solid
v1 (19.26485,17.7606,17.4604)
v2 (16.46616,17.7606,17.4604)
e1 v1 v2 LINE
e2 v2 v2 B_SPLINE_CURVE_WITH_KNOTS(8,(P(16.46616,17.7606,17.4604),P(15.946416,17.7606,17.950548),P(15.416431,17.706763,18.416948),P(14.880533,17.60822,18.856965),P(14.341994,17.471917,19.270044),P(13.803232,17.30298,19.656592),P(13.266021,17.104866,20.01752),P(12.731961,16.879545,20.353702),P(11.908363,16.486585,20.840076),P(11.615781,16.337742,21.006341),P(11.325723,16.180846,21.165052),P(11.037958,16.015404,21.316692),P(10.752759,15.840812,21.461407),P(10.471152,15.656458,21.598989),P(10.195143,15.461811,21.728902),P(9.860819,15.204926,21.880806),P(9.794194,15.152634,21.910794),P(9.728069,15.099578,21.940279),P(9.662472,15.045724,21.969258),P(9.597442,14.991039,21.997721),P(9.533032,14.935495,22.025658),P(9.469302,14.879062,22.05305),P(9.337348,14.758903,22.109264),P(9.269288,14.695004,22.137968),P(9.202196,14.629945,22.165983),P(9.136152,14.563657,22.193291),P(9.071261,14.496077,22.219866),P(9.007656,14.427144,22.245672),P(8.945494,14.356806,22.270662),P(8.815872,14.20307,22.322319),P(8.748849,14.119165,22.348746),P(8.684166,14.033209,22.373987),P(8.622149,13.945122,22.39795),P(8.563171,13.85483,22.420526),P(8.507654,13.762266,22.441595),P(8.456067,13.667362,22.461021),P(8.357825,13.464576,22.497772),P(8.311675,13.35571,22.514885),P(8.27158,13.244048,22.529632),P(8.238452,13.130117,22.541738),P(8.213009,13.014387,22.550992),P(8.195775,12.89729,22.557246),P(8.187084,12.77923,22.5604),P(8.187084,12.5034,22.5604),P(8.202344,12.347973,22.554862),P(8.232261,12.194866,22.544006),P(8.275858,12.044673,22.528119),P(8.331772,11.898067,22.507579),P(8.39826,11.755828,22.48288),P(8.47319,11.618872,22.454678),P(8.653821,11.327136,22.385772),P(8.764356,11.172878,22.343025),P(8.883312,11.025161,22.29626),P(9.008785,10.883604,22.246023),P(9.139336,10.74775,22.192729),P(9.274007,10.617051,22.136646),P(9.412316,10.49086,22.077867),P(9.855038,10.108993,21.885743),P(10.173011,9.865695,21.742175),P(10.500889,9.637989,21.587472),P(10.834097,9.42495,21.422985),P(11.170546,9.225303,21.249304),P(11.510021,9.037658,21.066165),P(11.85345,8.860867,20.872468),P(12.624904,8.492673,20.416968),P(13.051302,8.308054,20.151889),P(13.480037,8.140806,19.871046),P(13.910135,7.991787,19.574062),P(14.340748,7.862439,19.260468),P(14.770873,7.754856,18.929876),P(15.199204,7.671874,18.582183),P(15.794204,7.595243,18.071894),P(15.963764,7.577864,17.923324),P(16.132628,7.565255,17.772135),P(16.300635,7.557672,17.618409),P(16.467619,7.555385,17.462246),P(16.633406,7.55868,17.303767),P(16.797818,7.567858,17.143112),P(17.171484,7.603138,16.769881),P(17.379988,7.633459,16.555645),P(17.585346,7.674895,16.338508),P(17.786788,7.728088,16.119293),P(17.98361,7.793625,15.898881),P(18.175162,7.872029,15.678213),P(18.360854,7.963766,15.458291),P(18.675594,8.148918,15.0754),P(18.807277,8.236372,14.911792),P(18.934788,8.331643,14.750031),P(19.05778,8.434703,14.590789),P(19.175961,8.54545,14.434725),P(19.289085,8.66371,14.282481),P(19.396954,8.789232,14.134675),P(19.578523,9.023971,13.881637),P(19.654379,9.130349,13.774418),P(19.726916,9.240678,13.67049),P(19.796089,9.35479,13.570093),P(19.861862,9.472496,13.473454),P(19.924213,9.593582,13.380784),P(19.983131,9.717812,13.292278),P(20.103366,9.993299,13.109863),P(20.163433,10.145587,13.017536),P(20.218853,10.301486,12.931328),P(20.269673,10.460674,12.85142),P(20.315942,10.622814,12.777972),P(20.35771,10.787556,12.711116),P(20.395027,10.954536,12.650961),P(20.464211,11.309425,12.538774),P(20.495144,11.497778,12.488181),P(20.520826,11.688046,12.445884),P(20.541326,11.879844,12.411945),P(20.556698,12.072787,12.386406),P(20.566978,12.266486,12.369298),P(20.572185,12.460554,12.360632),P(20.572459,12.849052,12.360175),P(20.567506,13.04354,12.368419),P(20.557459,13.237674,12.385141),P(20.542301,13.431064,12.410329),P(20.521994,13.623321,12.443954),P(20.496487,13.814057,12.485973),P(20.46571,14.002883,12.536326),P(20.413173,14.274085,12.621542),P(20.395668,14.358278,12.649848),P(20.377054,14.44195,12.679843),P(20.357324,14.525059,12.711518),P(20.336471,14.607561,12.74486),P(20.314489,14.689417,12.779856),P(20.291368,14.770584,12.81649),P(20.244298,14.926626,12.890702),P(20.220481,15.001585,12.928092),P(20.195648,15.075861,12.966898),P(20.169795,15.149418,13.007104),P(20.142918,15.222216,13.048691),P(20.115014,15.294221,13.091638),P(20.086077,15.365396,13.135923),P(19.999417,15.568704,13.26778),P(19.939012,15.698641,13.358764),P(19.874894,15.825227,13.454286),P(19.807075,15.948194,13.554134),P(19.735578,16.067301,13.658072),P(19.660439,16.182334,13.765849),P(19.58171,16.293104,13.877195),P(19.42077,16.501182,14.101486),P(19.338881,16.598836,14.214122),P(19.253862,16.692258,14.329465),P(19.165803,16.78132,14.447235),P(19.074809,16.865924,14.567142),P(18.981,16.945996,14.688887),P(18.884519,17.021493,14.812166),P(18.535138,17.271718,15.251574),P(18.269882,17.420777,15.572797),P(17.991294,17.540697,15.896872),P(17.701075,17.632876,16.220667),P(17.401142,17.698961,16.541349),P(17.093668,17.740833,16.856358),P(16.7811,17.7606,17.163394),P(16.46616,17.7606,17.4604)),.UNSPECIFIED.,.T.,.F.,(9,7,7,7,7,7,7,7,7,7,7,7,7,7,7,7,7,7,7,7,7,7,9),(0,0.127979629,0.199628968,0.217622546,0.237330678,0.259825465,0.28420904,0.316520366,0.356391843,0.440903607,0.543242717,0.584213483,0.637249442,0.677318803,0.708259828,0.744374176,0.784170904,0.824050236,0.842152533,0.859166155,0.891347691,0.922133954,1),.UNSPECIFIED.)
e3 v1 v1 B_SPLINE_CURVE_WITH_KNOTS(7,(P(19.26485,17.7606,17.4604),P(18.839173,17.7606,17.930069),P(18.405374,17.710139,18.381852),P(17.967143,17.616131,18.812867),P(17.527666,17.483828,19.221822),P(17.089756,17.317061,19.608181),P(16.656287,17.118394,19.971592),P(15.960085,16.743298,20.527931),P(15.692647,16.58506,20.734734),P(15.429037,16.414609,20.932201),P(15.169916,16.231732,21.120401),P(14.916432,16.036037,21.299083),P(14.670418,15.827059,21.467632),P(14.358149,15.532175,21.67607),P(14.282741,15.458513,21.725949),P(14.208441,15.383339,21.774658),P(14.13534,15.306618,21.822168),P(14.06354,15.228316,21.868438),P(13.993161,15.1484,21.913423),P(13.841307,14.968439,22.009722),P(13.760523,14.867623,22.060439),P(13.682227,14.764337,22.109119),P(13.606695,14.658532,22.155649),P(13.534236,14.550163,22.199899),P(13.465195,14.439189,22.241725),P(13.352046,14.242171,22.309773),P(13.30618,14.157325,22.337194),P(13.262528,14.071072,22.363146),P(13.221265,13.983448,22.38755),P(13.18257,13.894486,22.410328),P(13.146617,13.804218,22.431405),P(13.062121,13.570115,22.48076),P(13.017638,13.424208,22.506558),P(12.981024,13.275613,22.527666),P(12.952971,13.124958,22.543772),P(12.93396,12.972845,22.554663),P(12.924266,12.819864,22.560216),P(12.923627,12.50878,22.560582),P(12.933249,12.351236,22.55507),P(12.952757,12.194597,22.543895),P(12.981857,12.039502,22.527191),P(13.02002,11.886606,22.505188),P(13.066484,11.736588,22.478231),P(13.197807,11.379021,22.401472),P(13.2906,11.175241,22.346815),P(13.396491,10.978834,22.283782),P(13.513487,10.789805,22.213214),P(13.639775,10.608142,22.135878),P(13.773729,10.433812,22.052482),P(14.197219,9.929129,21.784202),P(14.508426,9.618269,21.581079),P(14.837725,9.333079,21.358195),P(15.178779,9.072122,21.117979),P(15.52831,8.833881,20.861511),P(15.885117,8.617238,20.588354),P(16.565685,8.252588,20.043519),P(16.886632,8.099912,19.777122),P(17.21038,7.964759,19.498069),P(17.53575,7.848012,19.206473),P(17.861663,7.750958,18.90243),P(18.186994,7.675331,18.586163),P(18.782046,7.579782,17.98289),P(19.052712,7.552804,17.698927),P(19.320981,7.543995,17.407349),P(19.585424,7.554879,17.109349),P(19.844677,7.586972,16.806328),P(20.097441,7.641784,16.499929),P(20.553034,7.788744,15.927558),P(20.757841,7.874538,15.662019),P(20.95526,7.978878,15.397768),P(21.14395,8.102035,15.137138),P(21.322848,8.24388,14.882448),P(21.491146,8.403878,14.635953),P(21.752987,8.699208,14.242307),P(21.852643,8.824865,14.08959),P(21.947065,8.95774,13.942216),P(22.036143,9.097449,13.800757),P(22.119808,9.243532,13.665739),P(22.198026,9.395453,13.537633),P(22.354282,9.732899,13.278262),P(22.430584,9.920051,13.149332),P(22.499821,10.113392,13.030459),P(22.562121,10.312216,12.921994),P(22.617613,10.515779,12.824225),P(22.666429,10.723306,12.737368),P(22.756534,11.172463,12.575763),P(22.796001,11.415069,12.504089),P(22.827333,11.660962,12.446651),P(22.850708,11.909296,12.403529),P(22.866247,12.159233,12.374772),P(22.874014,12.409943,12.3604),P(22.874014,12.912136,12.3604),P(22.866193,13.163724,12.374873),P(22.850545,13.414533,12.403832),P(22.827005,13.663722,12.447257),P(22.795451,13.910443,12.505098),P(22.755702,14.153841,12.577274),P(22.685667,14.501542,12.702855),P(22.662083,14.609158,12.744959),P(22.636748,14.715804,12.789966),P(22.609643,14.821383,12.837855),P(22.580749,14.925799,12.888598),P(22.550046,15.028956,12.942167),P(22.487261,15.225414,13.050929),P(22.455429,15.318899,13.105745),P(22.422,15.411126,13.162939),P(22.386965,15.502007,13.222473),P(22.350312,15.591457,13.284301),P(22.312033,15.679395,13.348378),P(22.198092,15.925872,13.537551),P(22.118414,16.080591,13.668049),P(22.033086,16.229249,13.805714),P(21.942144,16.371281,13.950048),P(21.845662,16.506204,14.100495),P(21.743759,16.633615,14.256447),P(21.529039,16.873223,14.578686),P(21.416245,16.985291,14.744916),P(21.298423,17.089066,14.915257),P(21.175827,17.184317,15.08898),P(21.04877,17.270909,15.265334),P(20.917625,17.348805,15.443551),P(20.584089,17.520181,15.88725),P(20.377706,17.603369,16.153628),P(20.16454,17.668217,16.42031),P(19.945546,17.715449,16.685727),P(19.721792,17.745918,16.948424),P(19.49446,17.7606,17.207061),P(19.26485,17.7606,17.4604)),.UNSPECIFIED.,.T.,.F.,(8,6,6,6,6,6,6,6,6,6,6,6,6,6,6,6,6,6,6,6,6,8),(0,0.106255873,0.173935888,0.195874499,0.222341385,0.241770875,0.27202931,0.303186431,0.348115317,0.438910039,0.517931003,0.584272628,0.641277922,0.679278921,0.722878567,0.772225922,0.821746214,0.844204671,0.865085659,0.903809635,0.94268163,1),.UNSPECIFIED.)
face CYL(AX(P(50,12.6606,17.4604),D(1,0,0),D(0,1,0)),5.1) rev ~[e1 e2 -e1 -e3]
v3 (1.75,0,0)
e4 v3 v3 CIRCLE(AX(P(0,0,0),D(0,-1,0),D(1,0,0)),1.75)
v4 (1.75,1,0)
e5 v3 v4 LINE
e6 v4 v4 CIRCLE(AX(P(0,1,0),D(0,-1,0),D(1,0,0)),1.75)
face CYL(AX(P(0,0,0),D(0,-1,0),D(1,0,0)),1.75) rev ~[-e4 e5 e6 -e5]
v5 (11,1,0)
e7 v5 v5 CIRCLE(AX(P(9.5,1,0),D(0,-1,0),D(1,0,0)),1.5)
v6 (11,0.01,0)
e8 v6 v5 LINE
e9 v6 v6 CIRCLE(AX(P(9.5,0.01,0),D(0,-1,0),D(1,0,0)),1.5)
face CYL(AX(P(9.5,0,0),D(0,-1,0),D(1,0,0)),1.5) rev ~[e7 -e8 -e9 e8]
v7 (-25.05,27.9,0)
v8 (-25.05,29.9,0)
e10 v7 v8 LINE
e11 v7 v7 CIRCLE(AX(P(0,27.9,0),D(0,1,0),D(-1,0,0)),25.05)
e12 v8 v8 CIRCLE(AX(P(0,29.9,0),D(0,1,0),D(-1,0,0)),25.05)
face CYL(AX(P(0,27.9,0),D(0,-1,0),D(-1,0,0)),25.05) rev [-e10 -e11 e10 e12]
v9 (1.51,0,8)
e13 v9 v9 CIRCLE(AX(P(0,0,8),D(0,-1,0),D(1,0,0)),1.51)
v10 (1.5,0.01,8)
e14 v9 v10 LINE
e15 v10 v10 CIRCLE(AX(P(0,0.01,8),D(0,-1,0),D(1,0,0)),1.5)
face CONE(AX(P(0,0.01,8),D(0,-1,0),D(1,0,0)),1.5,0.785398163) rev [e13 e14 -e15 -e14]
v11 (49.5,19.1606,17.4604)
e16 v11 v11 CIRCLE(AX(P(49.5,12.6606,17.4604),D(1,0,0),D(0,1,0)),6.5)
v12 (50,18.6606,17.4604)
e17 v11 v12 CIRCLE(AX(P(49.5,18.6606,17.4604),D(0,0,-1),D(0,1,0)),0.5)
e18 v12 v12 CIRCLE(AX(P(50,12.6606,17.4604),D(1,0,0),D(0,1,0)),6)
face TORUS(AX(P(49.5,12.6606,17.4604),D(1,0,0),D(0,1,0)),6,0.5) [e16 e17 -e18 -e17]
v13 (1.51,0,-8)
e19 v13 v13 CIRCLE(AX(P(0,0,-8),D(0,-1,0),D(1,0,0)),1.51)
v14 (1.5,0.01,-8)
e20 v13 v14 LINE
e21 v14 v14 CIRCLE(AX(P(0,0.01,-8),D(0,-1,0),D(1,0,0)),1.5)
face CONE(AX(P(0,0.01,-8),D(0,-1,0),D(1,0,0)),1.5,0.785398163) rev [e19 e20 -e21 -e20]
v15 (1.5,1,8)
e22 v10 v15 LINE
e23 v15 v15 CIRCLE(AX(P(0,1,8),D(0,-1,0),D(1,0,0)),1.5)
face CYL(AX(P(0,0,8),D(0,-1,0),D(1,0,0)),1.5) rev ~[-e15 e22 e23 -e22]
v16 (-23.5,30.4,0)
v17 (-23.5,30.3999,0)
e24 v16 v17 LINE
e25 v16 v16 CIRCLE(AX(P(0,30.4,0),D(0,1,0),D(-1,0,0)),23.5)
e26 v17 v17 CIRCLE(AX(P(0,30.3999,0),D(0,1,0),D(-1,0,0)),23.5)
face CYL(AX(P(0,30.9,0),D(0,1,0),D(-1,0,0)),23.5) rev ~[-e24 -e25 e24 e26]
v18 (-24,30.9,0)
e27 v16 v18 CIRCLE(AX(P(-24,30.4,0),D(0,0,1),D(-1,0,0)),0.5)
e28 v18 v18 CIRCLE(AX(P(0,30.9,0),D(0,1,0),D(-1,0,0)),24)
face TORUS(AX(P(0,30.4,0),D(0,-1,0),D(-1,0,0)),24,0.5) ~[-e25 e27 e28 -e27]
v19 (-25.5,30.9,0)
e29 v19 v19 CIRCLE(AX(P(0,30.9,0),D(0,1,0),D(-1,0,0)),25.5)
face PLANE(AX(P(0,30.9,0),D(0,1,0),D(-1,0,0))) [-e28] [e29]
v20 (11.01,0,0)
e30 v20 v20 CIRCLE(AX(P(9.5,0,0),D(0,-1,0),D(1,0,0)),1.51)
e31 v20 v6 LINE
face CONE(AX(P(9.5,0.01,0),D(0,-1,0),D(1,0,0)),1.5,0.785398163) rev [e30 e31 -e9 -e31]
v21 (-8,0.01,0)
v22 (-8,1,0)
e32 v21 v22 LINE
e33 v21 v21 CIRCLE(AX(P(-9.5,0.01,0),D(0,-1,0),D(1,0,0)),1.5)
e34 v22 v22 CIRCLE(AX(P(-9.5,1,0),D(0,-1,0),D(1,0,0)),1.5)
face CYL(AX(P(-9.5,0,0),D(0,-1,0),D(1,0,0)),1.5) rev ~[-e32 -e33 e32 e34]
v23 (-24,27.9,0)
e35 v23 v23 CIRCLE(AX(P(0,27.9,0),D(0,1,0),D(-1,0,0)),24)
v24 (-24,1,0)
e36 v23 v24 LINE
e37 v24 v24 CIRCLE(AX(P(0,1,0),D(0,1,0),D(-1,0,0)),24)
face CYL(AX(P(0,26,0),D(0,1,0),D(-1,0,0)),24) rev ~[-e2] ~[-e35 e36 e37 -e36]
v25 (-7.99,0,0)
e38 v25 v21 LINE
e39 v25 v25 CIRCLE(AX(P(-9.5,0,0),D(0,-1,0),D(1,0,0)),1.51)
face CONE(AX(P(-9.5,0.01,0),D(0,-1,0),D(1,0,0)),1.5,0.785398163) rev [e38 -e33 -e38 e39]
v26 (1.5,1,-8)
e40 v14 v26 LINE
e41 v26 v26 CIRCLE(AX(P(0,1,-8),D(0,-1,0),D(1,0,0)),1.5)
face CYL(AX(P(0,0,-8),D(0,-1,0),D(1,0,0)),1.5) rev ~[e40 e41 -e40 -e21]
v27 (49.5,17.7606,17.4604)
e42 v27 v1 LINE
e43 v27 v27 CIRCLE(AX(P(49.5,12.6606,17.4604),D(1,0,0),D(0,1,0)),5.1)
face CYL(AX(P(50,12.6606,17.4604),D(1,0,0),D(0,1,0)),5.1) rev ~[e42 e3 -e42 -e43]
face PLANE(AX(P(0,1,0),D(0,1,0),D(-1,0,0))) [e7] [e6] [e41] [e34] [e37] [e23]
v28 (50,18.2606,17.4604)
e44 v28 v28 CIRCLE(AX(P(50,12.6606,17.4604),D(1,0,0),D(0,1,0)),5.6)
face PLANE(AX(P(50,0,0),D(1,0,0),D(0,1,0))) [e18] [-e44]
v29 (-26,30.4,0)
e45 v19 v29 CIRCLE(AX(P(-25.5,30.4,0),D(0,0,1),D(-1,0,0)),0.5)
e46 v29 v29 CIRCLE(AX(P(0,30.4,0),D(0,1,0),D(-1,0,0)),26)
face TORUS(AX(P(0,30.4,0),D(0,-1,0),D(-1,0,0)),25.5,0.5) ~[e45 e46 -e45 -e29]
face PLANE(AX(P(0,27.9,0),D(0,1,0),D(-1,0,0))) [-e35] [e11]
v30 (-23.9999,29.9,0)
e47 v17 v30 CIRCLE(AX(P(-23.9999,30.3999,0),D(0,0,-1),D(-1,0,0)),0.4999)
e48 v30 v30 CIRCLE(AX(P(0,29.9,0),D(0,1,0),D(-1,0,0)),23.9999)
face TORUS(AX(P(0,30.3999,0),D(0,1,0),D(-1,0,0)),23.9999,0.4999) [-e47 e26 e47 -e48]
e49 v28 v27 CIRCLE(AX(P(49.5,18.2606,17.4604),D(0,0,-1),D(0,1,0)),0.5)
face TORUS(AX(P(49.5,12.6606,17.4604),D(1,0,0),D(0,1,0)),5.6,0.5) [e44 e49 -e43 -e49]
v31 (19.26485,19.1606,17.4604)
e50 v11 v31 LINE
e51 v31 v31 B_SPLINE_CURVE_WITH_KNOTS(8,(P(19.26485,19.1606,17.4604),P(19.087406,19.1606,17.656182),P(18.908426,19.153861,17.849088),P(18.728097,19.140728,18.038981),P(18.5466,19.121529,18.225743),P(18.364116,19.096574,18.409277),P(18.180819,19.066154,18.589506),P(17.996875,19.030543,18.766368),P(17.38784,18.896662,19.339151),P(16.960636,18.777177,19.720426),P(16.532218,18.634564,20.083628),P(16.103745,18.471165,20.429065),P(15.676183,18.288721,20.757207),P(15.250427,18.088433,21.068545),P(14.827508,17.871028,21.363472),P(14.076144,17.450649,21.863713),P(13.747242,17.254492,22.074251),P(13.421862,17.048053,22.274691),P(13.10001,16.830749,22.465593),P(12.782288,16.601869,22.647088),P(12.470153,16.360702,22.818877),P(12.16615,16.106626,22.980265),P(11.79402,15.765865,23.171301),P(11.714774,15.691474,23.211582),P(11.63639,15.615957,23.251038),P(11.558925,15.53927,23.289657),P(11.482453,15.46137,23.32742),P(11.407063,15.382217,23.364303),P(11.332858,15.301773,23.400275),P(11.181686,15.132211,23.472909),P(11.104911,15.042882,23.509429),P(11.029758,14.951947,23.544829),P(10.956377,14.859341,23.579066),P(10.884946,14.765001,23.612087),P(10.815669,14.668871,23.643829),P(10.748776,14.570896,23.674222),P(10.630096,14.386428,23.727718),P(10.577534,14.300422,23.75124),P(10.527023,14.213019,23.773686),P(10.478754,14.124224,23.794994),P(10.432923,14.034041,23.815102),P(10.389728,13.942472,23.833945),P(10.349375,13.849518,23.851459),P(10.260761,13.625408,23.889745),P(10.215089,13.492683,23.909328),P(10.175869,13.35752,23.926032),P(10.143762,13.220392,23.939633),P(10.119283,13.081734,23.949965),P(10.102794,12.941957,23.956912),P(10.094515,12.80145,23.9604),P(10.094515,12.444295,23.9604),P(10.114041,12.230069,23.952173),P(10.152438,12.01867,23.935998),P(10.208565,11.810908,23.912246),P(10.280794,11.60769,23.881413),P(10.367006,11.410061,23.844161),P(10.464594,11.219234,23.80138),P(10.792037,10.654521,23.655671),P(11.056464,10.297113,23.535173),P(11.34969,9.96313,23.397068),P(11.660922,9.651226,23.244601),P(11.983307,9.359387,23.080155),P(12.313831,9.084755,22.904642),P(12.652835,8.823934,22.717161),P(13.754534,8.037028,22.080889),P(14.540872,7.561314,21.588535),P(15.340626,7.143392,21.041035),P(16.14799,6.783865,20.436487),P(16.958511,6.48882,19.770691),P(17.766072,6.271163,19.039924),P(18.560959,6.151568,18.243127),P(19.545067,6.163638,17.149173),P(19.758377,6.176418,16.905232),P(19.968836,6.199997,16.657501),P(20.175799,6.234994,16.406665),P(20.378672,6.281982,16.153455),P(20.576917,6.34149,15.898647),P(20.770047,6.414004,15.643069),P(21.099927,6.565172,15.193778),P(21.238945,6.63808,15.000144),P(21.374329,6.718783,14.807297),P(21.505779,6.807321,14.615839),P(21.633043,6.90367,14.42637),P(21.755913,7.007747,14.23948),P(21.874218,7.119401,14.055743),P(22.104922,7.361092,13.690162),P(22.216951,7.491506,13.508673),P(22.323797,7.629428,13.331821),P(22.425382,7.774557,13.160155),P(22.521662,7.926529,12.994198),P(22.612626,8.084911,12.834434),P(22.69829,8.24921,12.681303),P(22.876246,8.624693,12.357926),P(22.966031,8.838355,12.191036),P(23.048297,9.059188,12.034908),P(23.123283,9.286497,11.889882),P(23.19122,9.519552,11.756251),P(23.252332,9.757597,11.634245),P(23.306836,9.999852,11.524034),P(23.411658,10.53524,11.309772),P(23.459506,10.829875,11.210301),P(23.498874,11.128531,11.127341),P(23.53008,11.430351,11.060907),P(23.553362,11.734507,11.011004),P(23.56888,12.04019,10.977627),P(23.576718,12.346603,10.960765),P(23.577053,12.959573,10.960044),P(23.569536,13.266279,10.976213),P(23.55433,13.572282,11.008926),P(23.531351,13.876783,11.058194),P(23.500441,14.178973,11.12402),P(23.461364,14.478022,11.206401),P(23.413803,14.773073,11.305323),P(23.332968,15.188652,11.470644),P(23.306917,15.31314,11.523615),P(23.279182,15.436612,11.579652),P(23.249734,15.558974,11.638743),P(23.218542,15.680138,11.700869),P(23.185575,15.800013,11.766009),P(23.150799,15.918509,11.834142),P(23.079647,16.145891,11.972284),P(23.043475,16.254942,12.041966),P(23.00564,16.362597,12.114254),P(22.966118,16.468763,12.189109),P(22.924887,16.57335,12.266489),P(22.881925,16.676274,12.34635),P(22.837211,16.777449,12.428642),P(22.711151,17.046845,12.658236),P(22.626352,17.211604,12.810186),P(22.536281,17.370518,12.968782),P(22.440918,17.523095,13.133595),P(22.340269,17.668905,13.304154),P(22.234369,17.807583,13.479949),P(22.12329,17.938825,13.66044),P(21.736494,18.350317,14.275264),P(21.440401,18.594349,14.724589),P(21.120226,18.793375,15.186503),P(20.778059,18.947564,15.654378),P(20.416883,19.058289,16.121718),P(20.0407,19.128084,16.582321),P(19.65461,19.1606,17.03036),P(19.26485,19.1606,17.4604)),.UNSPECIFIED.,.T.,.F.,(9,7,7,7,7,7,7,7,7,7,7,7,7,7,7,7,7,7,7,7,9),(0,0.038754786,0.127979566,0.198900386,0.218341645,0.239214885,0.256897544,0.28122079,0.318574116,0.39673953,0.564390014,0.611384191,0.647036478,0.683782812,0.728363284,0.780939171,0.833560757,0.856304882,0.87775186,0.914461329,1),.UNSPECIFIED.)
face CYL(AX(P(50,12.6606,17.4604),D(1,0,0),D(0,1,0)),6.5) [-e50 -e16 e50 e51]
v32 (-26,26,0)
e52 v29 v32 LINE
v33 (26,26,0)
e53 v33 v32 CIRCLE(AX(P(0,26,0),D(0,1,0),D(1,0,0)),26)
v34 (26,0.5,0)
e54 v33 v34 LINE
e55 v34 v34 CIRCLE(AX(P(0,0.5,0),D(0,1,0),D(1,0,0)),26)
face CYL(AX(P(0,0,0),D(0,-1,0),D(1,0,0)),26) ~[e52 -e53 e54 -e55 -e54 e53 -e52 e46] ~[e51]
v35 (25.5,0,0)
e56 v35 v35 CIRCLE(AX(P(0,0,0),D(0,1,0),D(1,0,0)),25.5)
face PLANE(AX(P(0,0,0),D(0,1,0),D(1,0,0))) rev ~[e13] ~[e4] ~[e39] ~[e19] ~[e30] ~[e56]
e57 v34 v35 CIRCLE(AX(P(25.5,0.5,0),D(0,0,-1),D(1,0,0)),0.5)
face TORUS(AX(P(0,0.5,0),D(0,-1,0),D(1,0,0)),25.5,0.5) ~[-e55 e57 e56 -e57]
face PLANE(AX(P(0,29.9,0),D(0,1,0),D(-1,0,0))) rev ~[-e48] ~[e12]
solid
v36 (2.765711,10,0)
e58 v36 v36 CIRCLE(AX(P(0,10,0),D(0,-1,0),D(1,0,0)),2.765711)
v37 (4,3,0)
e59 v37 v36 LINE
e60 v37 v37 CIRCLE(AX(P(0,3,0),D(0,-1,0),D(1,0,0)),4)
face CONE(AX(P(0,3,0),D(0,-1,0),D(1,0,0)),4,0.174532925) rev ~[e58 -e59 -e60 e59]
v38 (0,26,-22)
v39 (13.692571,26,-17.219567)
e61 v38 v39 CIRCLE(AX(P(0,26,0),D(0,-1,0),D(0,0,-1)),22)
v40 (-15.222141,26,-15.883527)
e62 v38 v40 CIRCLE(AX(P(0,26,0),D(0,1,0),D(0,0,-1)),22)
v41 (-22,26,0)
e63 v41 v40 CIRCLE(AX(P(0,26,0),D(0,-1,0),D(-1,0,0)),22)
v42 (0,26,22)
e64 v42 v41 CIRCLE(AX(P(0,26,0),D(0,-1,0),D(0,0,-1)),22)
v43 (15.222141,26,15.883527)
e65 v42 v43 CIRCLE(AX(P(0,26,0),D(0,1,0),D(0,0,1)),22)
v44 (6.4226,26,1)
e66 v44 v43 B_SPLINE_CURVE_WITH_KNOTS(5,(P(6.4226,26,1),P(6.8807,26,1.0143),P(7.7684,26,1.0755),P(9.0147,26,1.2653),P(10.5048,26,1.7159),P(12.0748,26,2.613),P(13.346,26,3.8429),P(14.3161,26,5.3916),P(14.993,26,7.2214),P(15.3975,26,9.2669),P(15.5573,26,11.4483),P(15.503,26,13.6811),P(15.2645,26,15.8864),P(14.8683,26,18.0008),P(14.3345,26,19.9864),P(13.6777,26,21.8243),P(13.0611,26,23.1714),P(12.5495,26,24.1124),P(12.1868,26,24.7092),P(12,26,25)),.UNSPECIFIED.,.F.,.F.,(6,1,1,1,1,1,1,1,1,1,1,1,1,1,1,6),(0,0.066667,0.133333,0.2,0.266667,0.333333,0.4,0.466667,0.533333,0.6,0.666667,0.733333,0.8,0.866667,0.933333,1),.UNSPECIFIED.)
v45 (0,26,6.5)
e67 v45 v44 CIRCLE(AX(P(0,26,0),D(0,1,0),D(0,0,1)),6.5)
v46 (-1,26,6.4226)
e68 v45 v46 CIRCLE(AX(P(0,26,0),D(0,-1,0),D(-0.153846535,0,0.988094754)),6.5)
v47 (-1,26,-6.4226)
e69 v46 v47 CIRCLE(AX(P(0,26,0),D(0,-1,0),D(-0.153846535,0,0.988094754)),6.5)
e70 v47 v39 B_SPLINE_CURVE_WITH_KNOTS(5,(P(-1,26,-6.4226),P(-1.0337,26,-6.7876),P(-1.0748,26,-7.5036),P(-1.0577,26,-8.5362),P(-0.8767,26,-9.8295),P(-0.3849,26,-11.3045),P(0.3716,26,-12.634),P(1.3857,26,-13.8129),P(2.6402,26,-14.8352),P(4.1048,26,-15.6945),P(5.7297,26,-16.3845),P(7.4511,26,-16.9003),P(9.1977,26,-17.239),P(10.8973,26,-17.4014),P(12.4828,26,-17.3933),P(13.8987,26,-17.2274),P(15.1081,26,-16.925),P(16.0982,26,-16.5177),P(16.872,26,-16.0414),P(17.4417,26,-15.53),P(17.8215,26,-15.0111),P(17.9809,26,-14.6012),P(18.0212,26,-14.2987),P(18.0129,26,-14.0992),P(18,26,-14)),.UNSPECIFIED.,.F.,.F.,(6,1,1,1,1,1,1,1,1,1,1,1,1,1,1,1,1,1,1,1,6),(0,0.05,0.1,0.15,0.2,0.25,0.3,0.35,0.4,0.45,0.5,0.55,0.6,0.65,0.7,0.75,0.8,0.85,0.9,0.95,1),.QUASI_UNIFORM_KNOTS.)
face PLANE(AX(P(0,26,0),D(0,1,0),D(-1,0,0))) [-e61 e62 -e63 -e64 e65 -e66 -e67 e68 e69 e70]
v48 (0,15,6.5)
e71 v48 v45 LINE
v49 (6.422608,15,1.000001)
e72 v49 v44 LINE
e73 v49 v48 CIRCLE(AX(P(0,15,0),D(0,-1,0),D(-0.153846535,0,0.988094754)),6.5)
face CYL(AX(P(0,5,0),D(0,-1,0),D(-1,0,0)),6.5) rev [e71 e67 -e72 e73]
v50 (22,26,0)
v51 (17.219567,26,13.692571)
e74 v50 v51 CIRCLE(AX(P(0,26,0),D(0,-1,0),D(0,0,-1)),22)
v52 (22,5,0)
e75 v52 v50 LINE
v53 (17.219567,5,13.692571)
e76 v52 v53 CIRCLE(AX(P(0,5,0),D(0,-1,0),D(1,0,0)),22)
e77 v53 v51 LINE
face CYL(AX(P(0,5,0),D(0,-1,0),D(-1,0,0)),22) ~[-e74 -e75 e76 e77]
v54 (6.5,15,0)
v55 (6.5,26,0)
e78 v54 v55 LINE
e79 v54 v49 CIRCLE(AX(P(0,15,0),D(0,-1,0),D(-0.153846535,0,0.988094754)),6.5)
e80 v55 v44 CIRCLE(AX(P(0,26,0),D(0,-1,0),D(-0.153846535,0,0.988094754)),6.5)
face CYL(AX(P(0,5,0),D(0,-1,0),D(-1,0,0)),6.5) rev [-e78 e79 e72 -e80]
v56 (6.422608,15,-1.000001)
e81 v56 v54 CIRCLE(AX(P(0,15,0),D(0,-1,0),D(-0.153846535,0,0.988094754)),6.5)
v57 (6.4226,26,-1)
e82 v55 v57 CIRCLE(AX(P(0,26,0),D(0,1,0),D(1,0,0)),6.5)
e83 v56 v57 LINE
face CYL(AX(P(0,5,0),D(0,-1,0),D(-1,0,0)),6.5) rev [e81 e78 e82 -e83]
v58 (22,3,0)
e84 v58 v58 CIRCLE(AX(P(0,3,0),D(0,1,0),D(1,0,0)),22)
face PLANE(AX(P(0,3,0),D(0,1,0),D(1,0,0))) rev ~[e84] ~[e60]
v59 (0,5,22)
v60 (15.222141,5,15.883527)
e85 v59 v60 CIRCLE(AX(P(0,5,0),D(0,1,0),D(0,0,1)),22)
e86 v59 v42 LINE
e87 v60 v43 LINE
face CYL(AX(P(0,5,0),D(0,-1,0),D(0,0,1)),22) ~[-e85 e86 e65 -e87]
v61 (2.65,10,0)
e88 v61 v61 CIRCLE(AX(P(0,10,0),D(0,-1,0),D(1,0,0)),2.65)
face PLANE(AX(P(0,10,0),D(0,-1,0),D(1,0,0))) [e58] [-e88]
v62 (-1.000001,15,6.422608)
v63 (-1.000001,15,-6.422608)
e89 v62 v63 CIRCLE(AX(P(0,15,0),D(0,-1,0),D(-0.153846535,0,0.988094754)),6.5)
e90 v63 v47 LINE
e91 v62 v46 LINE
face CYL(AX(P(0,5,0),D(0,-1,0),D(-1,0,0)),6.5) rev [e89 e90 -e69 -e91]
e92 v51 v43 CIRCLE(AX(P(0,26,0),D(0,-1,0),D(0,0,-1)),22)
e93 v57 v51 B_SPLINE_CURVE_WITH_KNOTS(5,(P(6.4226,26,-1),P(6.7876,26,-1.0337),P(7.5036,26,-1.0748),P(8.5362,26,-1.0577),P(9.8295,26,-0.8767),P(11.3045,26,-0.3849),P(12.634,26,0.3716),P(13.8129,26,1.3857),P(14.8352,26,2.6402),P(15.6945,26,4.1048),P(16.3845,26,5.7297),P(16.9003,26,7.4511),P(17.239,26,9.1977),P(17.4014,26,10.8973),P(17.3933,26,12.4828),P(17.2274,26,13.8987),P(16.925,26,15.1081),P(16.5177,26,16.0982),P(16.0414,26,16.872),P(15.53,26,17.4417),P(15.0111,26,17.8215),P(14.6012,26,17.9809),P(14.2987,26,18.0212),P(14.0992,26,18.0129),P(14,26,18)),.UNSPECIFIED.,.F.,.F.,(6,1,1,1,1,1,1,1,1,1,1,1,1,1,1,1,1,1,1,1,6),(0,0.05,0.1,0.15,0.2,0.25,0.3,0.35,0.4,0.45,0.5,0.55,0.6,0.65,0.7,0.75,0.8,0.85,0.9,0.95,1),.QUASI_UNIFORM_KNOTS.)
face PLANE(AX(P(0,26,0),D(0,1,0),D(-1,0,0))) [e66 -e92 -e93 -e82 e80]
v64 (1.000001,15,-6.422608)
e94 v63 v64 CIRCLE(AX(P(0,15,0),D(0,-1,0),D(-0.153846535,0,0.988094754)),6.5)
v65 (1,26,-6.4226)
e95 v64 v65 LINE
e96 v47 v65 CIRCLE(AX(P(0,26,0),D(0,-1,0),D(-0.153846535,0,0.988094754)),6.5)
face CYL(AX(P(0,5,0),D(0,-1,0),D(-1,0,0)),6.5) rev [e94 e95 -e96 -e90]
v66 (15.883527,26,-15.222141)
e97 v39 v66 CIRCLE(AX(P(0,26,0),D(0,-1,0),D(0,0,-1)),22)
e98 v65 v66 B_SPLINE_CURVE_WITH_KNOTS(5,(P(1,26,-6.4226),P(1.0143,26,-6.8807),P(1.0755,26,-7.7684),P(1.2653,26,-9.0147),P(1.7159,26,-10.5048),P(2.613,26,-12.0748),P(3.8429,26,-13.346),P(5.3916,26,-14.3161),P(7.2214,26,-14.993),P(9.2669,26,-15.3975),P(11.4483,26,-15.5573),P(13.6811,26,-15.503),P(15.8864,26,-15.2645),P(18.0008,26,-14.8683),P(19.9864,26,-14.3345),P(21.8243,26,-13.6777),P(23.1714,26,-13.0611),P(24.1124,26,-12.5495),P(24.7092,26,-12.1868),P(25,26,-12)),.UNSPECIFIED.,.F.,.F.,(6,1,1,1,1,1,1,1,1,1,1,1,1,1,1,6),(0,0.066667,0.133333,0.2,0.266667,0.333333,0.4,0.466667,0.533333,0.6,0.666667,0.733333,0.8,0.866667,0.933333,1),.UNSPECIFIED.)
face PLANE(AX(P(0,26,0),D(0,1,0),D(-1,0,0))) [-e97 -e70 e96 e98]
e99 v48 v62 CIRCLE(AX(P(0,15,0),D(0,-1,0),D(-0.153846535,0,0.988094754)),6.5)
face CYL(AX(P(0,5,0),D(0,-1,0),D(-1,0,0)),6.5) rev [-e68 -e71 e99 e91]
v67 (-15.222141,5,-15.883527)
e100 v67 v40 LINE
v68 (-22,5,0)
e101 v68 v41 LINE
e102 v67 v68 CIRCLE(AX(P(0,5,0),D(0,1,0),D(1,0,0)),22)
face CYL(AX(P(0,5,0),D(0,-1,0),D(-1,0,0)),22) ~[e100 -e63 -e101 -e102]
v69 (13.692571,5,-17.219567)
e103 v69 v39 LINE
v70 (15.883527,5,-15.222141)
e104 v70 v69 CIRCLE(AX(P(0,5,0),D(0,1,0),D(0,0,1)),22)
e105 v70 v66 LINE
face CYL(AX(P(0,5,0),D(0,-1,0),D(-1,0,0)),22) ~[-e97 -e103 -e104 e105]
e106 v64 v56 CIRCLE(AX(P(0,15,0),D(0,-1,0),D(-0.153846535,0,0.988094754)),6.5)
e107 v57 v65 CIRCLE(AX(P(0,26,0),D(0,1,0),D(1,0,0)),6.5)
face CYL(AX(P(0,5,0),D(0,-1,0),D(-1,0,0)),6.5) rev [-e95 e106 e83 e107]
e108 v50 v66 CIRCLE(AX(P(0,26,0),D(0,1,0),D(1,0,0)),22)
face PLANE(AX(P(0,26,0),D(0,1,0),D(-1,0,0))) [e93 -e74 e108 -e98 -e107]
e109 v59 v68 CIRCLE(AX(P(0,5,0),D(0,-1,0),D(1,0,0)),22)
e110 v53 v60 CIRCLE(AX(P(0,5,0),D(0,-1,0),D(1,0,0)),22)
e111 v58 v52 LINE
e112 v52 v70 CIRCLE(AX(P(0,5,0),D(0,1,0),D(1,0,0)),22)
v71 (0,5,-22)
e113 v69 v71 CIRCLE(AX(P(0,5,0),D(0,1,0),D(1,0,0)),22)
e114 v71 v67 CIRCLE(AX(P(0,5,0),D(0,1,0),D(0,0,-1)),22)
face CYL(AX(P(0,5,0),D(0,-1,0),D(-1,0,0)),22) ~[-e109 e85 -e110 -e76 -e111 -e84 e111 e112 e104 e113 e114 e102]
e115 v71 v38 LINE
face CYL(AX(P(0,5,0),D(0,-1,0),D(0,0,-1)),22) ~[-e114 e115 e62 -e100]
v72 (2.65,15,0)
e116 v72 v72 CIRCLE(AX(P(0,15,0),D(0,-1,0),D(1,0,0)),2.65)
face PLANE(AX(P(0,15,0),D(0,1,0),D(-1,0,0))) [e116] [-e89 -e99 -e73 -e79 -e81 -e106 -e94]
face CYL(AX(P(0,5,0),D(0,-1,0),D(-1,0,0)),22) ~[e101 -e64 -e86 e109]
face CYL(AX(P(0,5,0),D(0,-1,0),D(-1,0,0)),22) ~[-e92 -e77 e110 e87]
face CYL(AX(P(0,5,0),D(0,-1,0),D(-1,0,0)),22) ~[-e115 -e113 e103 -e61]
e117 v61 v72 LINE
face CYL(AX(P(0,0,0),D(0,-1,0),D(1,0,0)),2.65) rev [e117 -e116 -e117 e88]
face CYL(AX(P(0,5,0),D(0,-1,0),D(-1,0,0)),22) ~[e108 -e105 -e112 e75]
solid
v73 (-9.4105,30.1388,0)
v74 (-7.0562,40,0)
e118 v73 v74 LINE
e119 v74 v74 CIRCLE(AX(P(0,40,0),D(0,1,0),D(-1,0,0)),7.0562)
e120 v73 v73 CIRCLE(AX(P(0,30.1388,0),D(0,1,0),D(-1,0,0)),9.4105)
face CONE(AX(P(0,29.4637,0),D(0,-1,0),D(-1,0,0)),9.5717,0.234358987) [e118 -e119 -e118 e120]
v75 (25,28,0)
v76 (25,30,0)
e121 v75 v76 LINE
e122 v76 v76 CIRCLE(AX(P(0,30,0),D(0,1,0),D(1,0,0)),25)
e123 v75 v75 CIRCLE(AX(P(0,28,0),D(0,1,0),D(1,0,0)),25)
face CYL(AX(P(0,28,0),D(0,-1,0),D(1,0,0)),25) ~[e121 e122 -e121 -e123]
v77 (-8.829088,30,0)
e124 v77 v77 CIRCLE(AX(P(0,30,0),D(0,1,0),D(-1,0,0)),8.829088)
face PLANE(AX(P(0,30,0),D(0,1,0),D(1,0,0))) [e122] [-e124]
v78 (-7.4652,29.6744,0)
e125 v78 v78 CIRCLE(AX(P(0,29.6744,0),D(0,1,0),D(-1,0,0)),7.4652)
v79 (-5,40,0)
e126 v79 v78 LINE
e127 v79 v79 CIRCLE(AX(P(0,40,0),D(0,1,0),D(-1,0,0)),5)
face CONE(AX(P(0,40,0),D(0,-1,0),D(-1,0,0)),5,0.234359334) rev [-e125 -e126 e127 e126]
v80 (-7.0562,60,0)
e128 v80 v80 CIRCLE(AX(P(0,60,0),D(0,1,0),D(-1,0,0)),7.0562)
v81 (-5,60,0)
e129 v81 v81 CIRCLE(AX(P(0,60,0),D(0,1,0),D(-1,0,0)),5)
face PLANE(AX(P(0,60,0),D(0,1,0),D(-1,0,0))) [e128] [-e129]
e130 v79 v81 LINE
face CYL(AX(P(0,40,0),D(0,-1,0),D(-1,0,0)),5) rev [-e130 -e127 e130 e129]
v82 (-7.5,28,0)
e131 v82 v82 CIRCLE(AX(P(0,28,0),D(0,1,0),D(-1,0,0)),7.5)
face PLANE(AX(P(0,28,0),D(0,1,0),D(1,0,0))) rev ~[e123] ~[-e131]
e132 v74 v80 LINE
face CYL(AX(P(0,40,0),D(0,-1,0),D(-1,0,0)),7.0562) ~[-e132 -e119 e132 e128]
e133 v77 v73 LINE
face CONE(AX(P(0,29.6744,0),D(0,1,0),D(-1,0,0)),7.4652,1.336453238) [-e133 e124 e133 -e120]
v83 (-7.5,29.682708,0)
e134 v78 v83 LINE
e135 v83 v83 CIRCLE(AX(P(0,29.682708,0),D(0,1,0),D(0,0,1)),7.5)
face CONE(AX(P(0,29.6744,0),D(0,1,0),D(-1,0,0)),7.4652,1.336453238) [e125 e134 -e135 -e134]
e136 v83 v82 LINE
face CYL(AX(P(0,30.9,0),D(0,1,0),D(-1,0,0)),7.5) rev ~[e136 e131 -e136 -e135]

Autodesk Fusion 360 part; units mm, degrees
sketch "Sketch1" plane through (0, 0, 0) normal (0, 1, 0) x (1, 0, 0) in component "P1"
  circle A0 centre (0, 0) radius 26
  dimension "d1" = 52
extrude "Extrude1" add sketch "Sketch1" along normal blind 2 makes body 1 in component "P1"
sketch "Sketch2" plane through (0, 0, 0) normal (0, -1, 0) x (1, 0, 0) in component "P1"
  circle A0 centre (0, 0) radius 26
  line L0 (0, 0) -> (9.5, 0) construction
  line L1 (0, 0) -> (0, 8) construction
  circle A1 centre (0, 8) radius 1.5
  circle A2 centre (9.5, 0) radius 1.5
  circle A3 centre (0, -8) radius 1.5
  circle A4 centre (-9.5, 0) radius 1.5
  dimension "d4" = 9.5
  dimension "d5" = 8
  dimension "d6" = 3
  dimension "d7" = 3
extrude "Extrude2" cut sketch "Sketch2" against normal blind 15 contours A1 | A2 | A3 | A4 bodies 1 in component "P1"
chamfer "Chamfer1" distance 0.01 angle 45 4 edges at (-10.8985, 0, 0.5424) (-1.3985, 0, -7.4576) (8.1015, 0, 0.5424) (-1.3985, 0, 8.5424) on bodies 1 in component "P1"
sketch "Sketch3" plane through (0, 0, 0) normal (0, 1, 0) x (1, 0, 0) in component "P1"
  circle A0 centre (0, 0) radius 26
  circle A1 centre (0, 0) radius 24
  dimension "d11" = 52
  dimension "d12" = 48
extrude "Extrude3" add sketch "Sketch3" along normal blind 26 bodies 1 in component "P1"
ref_plane "WorkPlane1" through (50, 0, 0) normal (1, 0, 0) x (0, 1, 0) in component "P1"
sketch "Sketch4" plane through (50, 0, 0) normal (1, 0, 0) x (0, 1, 0) in component "P1"
  circle A0 centre (12.6606, 17.4604) radius 6.5
  circle A1 centre (12.6606, 17.4604) radius 5.1
  dimension "d16" = 13
  dimension "d17" = 10.2
extrude "Extrude4" add sketch "Sketch4" against normal blind 50 bodies 1 in component "P1"
sketch "Sketch5" plane through (0, 26, 0) normal (0, 1, 0) x (-1, 0, 0) in component "P1"
  circle A0 centre (0, 0) radius 24
  circle A1 centre (0, 0) radius 26
  circle A2 centre (0, 0) radius 24
  dimension "d20" = 48
extrude "Extrude5" cut sketch "Sketch5" against normal blind 25 contours A0 A2 bodies 1 in component "P1"
sketch "Sketch6" plane through (50, 0, 0) normal (1, 0, 0) x (0, 1, 0) in component "P1"
  circle A0 centre (12.6606, 17.4604) radius 5.1
  circle A1 centre (12.6606, 17.4604) radius 6.5
  circle A2 centre (12.6606, 17.4604) radius 5.1
  dimension "d23" = 10.2
extrude "Extrude6" cut sketch "Sketch6" against normal blind 50 contours A0 A2 bodies 1 in component "P1"
sketch "Sketch7" plane through (0, 0, 0) normal (0, -1, 0) x (1, 0, 0) in component "P1"
  circle A0 centre (0, 0) radius 26
  circle A1 centre (9.5, 0) radius 1.51
  circle A2 centre (-9.5, 0) radius 1.51
  circle A3 centre (0, -8) radius 1.51
  circle A4 centre (0, 8) radius 1.51
  circle A5 centre (0, 0) radius 1.75
  dimension "d26" = 3.5
extrude "Extrude7" cut sketch "Sketch7" against normal blind 5 contours A5 bodies 1 in component "P1"
sketch "Sketch8" plane through (0, 1, 0) normal (0, 1, 0) x (-1, 0, 0) in component "P1"
  circle A0 centre (0, 0) radius 1.75
  circle A1 centre (0, 0) radius 24
  circle A2 centre (0, 8) radius 1.5
  circle A3 centre (-9.5, 0) radius 1.5
  circle A4 centre (0, -8) radius 1.5
  circle A5 centre (9.5, 0) radius 1.5
ref_plane "WorkPlane2" through (0, 3, 0) normal (0, 1, 0) x (-1, 0, 0) in component "P1"
sketch "Sketch9" plane through (0, 3, 0) normal (0, 1, 0) x (1, 0, 0) in component "P1"
  circle A0 centre (0, 0) radius 22
  dimension "d30" = 44
extrude "Extrude8" add sketch "Sketch9" along normal blind 2 separate body makes body 2 in component "P1"
sketch "Sketch10" plane through (0, 5, 0) normal (0, 1, 0) x (-1, 0, 0) in component "P1"
  circle A0 centre (0, 0) radius 22
  line L0 (0, 0) -> (0, 22) construction
  line L1 (-1, 0) -> (-1, 20) construction
  line L2 (1, 0) -> (1, 20) construction
  circle A1 centre (0, 0) radius 6.5
  spline S0 degree 5 poles (1, 6.4226) (1.0143, 6.8807) (1.0755, 7.7684) (1.2653, 9.0147) (1.7159, 10.5048) (2.613, 12.0748) (3.8429, 13.346) (5.3916, 14.3161) (7.2214, 14.993) (9.2669, 15.3975) (11.4483, 15.5573) (13.6811, 15.503) (15.8864, 15.2645) (18.0008, 14.8683) (19.9864, 14.3345) (21.8243, 13.6777) (23.1714, 13.0611) (24.1124, 12.5495) (24.7092, 12.1868) (25, 12) knots 0 0 0 0 0 0 0.066667 0.133333 0.2 0.266667 0.333333 0.4 0.466667 0.533333 0.6 0.666667 0.733333 0.8 0.866667 0.933333 1 1 1 1 1 1
  spline S1 degree 5 poles (-1, 6.4226) (-1.0337, 6.7876) (-1.0748, 7.5036) (-1.0577, 8.5362) (-0.8767, 9.8295) (-0.3849, 11.3045) (0.3716, 12.634) (1.3857, 13.8129) (2.6402, 14.8352) (4.1048, 15.6945) (5.7297, 16.3845) (7.4511, 16.9003) (9.1977, 17.239) (10.8973, 17.4014) (12.4828, 17.3933) (13.8987, 17.2274) (15.1081, 16.925) (16.0982, 16.5177) (16.872, 16.0414) (17.4417, 15.53) (17.8215, 15.0111) (17.9809, 14.6012) (18.0212, 14.2987) (18.0129, 14.0992) (18, 14) knots 0 0 0 0 0 0 0.05 0.1 0.15 0.2 0.25 0.3 0.35 0.4 0.45 0.5 0.55 0.6 0.65 0.7 0.75 0.8 0.85 0.9 0.95 1 1 1 1 1 1
  circle A2 centre (0, 0) radius 22
  point P0 (5, 14)
  point P1 (15.8835, 15.2222)
  point P2 (3, 15)
  point P3 (13.6926, 17.2195)
  point P4 (17.4653, 15.4488)
  dimension "d37" = 1
  dimension "d38" = 1
  dimension "d39" = 13
extrude "Extrude9" add sketch "Sketch10" along normal blind 10 contours A1 bodies 2 in component "P1"
extrude "Extrude10" add sketch "Sketch10" along normal blind 21 contours A0 A1 S0 S1 A2 picked at (12.0376, 10.6882) bodies 2 in component "P1"
pattern_circular "C-Pattern1" count 4 over 360 about axis through (0, 5, 0) along (0, -1, 0) of "Extrude10" in component "P1"
sketch "Sketch11" plane through (0, 3, 0) normal (0, -1, 0) x (1, 0, 0) in component "P1"
  circle A0 centre (0, 0) radius 22
  circle A1 centre (0, 0) radius 4
  dimension "d46" = 8
extrude "Extrude11" cut sketch "Sketch11" against normal blind 7 draft -10 contours A1 bodies 2 in component "P1"
sketch "Sketch12" plane through (0, 0, 0) normal (0, 1, 0) x (1, 0, 0) in component "P1"
  circle A0 centre (0, 0) radius 2.7657
  circle A1 centre (0, 0) radius 2.65
  dimension "d49" = 5.5314
  dimension "d50" = 5.3
extrude "Extrude12" cut sketch "Sketch12" along normal blind 33 contours A1 bodies 2 in component "P1"
ref_plane "WorkPlane3" through (0, 28, 0) normal (0, 1, 0) x (0, 0, 1) in component "P1"
sketch "Sketch13" plane through (0, 28, 0) normal (0, 1, 0) x (1, 0, 0) in component "P1"
  circle A0 centre (0, 0) radius 25
  dimension "d54" = 50
extrude "Extrude13" add sketch "Sketch13" along normal blind 2 separate body makes body 3 in component "P1"
sketch "Sketch14" plane through (0, 26, 0) normal (0, 1, 0) x (-1, 0, 0) in component "P1"
  circle A0 centre (0, 0) radius 24
  circle A1 centre (0, 0) radius 26
  circle A2 centre (0, 0) radius 24
  circle A3 centre (0, 0) radius 26
extrude "Extrude14" add sketch "Sketch14" along normal blind 1.9 bodies 1 in component "P1"
sketch "Sketch15" plane through (0, 27.9, 0) normal (0, 1, 0) x (-1, 0, 0) in component "P1"
  circle A0 centre (0, 0) radius 24
  circle A1 centre (0, 0) radius 26
  circle A2 centre (0, 0) radius 26
  circle A3 centre (0, 0) radius 25.05
  dimension "d59" = 50.1
extrude "Extrude15" add sketch "Sketch15" along normal blind 3 contours A1 A2 bodies 1 in component "P1"
sketch "Sketch16" plane through (0, 30.9, 0) normal (0, 1, 0) x (-1, 0, 0) in component "P1"
  circle A0 centre (0, 0) radius 25.05
  circle A1 centre (0, 0) radius 26
sketch "Sketch17" plane through (0, 30.9, 0) normal (0, 1, 0) x (-1, 0, 0) in component "P1"
  circle A0 centre (0, 0) radius 25.05
  circle A1 centre (0, 0) radius 23.5
  dimension "d62" = 50.1
  dimension "d63" = 47
extrude "Extrude16" add sketch "Sketch17" against normal blind 1 bodies 1 in component "P1"
fillet "Fillet1" radius 0.5 1 edges at (21.9097, 30.9, 8.498) on bodies 1 in component "P1"
fillet "Fillet2" radius 0.5 1 edges at (21.9097, 29.9, -8.498) on bodies 1 in component "P1"
fillet "Fillet3" radius 0.5 1 edges at (24.2405, 30.9, -9.402) on bodies 1 in component "P1"
fillet "Fillet4" radius 0.5 1 edges at (-24.2405, 0, 9.402) on bodies 1 in component "P1"
fillet "Fillet5" radius 0.5 1 edges at (50, 6.6004, 15.1099) on bodies 1 in component "P1"
fillet "Fillet6" radius 0.5 1 edges at (50, 7.9057, 19.3047) on bodies 1 in component "P1"
sketch "Sketch18" plane through (0, 30.9, 0) normal (0, 1, 0) x (-1, 0, 0) in component "P1"
  circle A0 centre (0, 0) radius 7.5
  circle A1 centre (0, 0) radius 9
  dimension "d78" = 15
  dimension "d79" = 18
extrude "Extrude17" cut sketch "Sketch18" against normal blind 3.1 contours A0 bodies 3 in component "P1"
sketch "Sketch19" plane through (0, 0, 0) normal (0, 0, 1) x (1, 0, 0) in component "P1"
  line L0 (0, 30) -> (0, 40) construction
  line L1 (0, 40) -> (-5, 40)
  line L2 (-5, 40) -> (-7.4652, 29.6744)
  line L3 (-9.5717, 29.4637) -> (-7.0562, 40)
  line L4 (-7.0562, 40) -> (-5, 40)
  line L5 (-9.5717, 29.4637) -> (-7.4652, 29.6744)
  line L6 (-7.4652, 29.6744) -> (-9.4105, 30.1388)
  dimension "d82" = 10
  dimension "d83" = 5
  dimension "d84" = 2
  dimension "d85" = 2
revolve "Revolve1" add sketch "Sketch19" angle 360 about axis through (0, 30, 0) along (0, 1, 0) contours L2 L3 L4 L6 bodies 3 in component "P1"
sketch "Sketch20" plane through (0, 40, 0) normal (0, 1, 0) x (-1, 0, 0) in component "P1"
  circle A0 centre (0, 0) radius 7.0562
  circle A1 centre (0, 0) radius 5
  circle A2 centre (0, 0) radius 7.0562
  circle A3 centre (0, 0) radius 5
extrude "Extrude18" add sketch "Sketch20" along normal blind 20 bodies 3 in component "P1"
sketch "Sketch1 (2)" plane through (0, 0, 0) normal (0, 1, 0) x (1, 0, 0)
component "P1" placed x (1, 0, 0) y (0, 1, 0) z (0, 0, 1) at (0, 0, 0)
